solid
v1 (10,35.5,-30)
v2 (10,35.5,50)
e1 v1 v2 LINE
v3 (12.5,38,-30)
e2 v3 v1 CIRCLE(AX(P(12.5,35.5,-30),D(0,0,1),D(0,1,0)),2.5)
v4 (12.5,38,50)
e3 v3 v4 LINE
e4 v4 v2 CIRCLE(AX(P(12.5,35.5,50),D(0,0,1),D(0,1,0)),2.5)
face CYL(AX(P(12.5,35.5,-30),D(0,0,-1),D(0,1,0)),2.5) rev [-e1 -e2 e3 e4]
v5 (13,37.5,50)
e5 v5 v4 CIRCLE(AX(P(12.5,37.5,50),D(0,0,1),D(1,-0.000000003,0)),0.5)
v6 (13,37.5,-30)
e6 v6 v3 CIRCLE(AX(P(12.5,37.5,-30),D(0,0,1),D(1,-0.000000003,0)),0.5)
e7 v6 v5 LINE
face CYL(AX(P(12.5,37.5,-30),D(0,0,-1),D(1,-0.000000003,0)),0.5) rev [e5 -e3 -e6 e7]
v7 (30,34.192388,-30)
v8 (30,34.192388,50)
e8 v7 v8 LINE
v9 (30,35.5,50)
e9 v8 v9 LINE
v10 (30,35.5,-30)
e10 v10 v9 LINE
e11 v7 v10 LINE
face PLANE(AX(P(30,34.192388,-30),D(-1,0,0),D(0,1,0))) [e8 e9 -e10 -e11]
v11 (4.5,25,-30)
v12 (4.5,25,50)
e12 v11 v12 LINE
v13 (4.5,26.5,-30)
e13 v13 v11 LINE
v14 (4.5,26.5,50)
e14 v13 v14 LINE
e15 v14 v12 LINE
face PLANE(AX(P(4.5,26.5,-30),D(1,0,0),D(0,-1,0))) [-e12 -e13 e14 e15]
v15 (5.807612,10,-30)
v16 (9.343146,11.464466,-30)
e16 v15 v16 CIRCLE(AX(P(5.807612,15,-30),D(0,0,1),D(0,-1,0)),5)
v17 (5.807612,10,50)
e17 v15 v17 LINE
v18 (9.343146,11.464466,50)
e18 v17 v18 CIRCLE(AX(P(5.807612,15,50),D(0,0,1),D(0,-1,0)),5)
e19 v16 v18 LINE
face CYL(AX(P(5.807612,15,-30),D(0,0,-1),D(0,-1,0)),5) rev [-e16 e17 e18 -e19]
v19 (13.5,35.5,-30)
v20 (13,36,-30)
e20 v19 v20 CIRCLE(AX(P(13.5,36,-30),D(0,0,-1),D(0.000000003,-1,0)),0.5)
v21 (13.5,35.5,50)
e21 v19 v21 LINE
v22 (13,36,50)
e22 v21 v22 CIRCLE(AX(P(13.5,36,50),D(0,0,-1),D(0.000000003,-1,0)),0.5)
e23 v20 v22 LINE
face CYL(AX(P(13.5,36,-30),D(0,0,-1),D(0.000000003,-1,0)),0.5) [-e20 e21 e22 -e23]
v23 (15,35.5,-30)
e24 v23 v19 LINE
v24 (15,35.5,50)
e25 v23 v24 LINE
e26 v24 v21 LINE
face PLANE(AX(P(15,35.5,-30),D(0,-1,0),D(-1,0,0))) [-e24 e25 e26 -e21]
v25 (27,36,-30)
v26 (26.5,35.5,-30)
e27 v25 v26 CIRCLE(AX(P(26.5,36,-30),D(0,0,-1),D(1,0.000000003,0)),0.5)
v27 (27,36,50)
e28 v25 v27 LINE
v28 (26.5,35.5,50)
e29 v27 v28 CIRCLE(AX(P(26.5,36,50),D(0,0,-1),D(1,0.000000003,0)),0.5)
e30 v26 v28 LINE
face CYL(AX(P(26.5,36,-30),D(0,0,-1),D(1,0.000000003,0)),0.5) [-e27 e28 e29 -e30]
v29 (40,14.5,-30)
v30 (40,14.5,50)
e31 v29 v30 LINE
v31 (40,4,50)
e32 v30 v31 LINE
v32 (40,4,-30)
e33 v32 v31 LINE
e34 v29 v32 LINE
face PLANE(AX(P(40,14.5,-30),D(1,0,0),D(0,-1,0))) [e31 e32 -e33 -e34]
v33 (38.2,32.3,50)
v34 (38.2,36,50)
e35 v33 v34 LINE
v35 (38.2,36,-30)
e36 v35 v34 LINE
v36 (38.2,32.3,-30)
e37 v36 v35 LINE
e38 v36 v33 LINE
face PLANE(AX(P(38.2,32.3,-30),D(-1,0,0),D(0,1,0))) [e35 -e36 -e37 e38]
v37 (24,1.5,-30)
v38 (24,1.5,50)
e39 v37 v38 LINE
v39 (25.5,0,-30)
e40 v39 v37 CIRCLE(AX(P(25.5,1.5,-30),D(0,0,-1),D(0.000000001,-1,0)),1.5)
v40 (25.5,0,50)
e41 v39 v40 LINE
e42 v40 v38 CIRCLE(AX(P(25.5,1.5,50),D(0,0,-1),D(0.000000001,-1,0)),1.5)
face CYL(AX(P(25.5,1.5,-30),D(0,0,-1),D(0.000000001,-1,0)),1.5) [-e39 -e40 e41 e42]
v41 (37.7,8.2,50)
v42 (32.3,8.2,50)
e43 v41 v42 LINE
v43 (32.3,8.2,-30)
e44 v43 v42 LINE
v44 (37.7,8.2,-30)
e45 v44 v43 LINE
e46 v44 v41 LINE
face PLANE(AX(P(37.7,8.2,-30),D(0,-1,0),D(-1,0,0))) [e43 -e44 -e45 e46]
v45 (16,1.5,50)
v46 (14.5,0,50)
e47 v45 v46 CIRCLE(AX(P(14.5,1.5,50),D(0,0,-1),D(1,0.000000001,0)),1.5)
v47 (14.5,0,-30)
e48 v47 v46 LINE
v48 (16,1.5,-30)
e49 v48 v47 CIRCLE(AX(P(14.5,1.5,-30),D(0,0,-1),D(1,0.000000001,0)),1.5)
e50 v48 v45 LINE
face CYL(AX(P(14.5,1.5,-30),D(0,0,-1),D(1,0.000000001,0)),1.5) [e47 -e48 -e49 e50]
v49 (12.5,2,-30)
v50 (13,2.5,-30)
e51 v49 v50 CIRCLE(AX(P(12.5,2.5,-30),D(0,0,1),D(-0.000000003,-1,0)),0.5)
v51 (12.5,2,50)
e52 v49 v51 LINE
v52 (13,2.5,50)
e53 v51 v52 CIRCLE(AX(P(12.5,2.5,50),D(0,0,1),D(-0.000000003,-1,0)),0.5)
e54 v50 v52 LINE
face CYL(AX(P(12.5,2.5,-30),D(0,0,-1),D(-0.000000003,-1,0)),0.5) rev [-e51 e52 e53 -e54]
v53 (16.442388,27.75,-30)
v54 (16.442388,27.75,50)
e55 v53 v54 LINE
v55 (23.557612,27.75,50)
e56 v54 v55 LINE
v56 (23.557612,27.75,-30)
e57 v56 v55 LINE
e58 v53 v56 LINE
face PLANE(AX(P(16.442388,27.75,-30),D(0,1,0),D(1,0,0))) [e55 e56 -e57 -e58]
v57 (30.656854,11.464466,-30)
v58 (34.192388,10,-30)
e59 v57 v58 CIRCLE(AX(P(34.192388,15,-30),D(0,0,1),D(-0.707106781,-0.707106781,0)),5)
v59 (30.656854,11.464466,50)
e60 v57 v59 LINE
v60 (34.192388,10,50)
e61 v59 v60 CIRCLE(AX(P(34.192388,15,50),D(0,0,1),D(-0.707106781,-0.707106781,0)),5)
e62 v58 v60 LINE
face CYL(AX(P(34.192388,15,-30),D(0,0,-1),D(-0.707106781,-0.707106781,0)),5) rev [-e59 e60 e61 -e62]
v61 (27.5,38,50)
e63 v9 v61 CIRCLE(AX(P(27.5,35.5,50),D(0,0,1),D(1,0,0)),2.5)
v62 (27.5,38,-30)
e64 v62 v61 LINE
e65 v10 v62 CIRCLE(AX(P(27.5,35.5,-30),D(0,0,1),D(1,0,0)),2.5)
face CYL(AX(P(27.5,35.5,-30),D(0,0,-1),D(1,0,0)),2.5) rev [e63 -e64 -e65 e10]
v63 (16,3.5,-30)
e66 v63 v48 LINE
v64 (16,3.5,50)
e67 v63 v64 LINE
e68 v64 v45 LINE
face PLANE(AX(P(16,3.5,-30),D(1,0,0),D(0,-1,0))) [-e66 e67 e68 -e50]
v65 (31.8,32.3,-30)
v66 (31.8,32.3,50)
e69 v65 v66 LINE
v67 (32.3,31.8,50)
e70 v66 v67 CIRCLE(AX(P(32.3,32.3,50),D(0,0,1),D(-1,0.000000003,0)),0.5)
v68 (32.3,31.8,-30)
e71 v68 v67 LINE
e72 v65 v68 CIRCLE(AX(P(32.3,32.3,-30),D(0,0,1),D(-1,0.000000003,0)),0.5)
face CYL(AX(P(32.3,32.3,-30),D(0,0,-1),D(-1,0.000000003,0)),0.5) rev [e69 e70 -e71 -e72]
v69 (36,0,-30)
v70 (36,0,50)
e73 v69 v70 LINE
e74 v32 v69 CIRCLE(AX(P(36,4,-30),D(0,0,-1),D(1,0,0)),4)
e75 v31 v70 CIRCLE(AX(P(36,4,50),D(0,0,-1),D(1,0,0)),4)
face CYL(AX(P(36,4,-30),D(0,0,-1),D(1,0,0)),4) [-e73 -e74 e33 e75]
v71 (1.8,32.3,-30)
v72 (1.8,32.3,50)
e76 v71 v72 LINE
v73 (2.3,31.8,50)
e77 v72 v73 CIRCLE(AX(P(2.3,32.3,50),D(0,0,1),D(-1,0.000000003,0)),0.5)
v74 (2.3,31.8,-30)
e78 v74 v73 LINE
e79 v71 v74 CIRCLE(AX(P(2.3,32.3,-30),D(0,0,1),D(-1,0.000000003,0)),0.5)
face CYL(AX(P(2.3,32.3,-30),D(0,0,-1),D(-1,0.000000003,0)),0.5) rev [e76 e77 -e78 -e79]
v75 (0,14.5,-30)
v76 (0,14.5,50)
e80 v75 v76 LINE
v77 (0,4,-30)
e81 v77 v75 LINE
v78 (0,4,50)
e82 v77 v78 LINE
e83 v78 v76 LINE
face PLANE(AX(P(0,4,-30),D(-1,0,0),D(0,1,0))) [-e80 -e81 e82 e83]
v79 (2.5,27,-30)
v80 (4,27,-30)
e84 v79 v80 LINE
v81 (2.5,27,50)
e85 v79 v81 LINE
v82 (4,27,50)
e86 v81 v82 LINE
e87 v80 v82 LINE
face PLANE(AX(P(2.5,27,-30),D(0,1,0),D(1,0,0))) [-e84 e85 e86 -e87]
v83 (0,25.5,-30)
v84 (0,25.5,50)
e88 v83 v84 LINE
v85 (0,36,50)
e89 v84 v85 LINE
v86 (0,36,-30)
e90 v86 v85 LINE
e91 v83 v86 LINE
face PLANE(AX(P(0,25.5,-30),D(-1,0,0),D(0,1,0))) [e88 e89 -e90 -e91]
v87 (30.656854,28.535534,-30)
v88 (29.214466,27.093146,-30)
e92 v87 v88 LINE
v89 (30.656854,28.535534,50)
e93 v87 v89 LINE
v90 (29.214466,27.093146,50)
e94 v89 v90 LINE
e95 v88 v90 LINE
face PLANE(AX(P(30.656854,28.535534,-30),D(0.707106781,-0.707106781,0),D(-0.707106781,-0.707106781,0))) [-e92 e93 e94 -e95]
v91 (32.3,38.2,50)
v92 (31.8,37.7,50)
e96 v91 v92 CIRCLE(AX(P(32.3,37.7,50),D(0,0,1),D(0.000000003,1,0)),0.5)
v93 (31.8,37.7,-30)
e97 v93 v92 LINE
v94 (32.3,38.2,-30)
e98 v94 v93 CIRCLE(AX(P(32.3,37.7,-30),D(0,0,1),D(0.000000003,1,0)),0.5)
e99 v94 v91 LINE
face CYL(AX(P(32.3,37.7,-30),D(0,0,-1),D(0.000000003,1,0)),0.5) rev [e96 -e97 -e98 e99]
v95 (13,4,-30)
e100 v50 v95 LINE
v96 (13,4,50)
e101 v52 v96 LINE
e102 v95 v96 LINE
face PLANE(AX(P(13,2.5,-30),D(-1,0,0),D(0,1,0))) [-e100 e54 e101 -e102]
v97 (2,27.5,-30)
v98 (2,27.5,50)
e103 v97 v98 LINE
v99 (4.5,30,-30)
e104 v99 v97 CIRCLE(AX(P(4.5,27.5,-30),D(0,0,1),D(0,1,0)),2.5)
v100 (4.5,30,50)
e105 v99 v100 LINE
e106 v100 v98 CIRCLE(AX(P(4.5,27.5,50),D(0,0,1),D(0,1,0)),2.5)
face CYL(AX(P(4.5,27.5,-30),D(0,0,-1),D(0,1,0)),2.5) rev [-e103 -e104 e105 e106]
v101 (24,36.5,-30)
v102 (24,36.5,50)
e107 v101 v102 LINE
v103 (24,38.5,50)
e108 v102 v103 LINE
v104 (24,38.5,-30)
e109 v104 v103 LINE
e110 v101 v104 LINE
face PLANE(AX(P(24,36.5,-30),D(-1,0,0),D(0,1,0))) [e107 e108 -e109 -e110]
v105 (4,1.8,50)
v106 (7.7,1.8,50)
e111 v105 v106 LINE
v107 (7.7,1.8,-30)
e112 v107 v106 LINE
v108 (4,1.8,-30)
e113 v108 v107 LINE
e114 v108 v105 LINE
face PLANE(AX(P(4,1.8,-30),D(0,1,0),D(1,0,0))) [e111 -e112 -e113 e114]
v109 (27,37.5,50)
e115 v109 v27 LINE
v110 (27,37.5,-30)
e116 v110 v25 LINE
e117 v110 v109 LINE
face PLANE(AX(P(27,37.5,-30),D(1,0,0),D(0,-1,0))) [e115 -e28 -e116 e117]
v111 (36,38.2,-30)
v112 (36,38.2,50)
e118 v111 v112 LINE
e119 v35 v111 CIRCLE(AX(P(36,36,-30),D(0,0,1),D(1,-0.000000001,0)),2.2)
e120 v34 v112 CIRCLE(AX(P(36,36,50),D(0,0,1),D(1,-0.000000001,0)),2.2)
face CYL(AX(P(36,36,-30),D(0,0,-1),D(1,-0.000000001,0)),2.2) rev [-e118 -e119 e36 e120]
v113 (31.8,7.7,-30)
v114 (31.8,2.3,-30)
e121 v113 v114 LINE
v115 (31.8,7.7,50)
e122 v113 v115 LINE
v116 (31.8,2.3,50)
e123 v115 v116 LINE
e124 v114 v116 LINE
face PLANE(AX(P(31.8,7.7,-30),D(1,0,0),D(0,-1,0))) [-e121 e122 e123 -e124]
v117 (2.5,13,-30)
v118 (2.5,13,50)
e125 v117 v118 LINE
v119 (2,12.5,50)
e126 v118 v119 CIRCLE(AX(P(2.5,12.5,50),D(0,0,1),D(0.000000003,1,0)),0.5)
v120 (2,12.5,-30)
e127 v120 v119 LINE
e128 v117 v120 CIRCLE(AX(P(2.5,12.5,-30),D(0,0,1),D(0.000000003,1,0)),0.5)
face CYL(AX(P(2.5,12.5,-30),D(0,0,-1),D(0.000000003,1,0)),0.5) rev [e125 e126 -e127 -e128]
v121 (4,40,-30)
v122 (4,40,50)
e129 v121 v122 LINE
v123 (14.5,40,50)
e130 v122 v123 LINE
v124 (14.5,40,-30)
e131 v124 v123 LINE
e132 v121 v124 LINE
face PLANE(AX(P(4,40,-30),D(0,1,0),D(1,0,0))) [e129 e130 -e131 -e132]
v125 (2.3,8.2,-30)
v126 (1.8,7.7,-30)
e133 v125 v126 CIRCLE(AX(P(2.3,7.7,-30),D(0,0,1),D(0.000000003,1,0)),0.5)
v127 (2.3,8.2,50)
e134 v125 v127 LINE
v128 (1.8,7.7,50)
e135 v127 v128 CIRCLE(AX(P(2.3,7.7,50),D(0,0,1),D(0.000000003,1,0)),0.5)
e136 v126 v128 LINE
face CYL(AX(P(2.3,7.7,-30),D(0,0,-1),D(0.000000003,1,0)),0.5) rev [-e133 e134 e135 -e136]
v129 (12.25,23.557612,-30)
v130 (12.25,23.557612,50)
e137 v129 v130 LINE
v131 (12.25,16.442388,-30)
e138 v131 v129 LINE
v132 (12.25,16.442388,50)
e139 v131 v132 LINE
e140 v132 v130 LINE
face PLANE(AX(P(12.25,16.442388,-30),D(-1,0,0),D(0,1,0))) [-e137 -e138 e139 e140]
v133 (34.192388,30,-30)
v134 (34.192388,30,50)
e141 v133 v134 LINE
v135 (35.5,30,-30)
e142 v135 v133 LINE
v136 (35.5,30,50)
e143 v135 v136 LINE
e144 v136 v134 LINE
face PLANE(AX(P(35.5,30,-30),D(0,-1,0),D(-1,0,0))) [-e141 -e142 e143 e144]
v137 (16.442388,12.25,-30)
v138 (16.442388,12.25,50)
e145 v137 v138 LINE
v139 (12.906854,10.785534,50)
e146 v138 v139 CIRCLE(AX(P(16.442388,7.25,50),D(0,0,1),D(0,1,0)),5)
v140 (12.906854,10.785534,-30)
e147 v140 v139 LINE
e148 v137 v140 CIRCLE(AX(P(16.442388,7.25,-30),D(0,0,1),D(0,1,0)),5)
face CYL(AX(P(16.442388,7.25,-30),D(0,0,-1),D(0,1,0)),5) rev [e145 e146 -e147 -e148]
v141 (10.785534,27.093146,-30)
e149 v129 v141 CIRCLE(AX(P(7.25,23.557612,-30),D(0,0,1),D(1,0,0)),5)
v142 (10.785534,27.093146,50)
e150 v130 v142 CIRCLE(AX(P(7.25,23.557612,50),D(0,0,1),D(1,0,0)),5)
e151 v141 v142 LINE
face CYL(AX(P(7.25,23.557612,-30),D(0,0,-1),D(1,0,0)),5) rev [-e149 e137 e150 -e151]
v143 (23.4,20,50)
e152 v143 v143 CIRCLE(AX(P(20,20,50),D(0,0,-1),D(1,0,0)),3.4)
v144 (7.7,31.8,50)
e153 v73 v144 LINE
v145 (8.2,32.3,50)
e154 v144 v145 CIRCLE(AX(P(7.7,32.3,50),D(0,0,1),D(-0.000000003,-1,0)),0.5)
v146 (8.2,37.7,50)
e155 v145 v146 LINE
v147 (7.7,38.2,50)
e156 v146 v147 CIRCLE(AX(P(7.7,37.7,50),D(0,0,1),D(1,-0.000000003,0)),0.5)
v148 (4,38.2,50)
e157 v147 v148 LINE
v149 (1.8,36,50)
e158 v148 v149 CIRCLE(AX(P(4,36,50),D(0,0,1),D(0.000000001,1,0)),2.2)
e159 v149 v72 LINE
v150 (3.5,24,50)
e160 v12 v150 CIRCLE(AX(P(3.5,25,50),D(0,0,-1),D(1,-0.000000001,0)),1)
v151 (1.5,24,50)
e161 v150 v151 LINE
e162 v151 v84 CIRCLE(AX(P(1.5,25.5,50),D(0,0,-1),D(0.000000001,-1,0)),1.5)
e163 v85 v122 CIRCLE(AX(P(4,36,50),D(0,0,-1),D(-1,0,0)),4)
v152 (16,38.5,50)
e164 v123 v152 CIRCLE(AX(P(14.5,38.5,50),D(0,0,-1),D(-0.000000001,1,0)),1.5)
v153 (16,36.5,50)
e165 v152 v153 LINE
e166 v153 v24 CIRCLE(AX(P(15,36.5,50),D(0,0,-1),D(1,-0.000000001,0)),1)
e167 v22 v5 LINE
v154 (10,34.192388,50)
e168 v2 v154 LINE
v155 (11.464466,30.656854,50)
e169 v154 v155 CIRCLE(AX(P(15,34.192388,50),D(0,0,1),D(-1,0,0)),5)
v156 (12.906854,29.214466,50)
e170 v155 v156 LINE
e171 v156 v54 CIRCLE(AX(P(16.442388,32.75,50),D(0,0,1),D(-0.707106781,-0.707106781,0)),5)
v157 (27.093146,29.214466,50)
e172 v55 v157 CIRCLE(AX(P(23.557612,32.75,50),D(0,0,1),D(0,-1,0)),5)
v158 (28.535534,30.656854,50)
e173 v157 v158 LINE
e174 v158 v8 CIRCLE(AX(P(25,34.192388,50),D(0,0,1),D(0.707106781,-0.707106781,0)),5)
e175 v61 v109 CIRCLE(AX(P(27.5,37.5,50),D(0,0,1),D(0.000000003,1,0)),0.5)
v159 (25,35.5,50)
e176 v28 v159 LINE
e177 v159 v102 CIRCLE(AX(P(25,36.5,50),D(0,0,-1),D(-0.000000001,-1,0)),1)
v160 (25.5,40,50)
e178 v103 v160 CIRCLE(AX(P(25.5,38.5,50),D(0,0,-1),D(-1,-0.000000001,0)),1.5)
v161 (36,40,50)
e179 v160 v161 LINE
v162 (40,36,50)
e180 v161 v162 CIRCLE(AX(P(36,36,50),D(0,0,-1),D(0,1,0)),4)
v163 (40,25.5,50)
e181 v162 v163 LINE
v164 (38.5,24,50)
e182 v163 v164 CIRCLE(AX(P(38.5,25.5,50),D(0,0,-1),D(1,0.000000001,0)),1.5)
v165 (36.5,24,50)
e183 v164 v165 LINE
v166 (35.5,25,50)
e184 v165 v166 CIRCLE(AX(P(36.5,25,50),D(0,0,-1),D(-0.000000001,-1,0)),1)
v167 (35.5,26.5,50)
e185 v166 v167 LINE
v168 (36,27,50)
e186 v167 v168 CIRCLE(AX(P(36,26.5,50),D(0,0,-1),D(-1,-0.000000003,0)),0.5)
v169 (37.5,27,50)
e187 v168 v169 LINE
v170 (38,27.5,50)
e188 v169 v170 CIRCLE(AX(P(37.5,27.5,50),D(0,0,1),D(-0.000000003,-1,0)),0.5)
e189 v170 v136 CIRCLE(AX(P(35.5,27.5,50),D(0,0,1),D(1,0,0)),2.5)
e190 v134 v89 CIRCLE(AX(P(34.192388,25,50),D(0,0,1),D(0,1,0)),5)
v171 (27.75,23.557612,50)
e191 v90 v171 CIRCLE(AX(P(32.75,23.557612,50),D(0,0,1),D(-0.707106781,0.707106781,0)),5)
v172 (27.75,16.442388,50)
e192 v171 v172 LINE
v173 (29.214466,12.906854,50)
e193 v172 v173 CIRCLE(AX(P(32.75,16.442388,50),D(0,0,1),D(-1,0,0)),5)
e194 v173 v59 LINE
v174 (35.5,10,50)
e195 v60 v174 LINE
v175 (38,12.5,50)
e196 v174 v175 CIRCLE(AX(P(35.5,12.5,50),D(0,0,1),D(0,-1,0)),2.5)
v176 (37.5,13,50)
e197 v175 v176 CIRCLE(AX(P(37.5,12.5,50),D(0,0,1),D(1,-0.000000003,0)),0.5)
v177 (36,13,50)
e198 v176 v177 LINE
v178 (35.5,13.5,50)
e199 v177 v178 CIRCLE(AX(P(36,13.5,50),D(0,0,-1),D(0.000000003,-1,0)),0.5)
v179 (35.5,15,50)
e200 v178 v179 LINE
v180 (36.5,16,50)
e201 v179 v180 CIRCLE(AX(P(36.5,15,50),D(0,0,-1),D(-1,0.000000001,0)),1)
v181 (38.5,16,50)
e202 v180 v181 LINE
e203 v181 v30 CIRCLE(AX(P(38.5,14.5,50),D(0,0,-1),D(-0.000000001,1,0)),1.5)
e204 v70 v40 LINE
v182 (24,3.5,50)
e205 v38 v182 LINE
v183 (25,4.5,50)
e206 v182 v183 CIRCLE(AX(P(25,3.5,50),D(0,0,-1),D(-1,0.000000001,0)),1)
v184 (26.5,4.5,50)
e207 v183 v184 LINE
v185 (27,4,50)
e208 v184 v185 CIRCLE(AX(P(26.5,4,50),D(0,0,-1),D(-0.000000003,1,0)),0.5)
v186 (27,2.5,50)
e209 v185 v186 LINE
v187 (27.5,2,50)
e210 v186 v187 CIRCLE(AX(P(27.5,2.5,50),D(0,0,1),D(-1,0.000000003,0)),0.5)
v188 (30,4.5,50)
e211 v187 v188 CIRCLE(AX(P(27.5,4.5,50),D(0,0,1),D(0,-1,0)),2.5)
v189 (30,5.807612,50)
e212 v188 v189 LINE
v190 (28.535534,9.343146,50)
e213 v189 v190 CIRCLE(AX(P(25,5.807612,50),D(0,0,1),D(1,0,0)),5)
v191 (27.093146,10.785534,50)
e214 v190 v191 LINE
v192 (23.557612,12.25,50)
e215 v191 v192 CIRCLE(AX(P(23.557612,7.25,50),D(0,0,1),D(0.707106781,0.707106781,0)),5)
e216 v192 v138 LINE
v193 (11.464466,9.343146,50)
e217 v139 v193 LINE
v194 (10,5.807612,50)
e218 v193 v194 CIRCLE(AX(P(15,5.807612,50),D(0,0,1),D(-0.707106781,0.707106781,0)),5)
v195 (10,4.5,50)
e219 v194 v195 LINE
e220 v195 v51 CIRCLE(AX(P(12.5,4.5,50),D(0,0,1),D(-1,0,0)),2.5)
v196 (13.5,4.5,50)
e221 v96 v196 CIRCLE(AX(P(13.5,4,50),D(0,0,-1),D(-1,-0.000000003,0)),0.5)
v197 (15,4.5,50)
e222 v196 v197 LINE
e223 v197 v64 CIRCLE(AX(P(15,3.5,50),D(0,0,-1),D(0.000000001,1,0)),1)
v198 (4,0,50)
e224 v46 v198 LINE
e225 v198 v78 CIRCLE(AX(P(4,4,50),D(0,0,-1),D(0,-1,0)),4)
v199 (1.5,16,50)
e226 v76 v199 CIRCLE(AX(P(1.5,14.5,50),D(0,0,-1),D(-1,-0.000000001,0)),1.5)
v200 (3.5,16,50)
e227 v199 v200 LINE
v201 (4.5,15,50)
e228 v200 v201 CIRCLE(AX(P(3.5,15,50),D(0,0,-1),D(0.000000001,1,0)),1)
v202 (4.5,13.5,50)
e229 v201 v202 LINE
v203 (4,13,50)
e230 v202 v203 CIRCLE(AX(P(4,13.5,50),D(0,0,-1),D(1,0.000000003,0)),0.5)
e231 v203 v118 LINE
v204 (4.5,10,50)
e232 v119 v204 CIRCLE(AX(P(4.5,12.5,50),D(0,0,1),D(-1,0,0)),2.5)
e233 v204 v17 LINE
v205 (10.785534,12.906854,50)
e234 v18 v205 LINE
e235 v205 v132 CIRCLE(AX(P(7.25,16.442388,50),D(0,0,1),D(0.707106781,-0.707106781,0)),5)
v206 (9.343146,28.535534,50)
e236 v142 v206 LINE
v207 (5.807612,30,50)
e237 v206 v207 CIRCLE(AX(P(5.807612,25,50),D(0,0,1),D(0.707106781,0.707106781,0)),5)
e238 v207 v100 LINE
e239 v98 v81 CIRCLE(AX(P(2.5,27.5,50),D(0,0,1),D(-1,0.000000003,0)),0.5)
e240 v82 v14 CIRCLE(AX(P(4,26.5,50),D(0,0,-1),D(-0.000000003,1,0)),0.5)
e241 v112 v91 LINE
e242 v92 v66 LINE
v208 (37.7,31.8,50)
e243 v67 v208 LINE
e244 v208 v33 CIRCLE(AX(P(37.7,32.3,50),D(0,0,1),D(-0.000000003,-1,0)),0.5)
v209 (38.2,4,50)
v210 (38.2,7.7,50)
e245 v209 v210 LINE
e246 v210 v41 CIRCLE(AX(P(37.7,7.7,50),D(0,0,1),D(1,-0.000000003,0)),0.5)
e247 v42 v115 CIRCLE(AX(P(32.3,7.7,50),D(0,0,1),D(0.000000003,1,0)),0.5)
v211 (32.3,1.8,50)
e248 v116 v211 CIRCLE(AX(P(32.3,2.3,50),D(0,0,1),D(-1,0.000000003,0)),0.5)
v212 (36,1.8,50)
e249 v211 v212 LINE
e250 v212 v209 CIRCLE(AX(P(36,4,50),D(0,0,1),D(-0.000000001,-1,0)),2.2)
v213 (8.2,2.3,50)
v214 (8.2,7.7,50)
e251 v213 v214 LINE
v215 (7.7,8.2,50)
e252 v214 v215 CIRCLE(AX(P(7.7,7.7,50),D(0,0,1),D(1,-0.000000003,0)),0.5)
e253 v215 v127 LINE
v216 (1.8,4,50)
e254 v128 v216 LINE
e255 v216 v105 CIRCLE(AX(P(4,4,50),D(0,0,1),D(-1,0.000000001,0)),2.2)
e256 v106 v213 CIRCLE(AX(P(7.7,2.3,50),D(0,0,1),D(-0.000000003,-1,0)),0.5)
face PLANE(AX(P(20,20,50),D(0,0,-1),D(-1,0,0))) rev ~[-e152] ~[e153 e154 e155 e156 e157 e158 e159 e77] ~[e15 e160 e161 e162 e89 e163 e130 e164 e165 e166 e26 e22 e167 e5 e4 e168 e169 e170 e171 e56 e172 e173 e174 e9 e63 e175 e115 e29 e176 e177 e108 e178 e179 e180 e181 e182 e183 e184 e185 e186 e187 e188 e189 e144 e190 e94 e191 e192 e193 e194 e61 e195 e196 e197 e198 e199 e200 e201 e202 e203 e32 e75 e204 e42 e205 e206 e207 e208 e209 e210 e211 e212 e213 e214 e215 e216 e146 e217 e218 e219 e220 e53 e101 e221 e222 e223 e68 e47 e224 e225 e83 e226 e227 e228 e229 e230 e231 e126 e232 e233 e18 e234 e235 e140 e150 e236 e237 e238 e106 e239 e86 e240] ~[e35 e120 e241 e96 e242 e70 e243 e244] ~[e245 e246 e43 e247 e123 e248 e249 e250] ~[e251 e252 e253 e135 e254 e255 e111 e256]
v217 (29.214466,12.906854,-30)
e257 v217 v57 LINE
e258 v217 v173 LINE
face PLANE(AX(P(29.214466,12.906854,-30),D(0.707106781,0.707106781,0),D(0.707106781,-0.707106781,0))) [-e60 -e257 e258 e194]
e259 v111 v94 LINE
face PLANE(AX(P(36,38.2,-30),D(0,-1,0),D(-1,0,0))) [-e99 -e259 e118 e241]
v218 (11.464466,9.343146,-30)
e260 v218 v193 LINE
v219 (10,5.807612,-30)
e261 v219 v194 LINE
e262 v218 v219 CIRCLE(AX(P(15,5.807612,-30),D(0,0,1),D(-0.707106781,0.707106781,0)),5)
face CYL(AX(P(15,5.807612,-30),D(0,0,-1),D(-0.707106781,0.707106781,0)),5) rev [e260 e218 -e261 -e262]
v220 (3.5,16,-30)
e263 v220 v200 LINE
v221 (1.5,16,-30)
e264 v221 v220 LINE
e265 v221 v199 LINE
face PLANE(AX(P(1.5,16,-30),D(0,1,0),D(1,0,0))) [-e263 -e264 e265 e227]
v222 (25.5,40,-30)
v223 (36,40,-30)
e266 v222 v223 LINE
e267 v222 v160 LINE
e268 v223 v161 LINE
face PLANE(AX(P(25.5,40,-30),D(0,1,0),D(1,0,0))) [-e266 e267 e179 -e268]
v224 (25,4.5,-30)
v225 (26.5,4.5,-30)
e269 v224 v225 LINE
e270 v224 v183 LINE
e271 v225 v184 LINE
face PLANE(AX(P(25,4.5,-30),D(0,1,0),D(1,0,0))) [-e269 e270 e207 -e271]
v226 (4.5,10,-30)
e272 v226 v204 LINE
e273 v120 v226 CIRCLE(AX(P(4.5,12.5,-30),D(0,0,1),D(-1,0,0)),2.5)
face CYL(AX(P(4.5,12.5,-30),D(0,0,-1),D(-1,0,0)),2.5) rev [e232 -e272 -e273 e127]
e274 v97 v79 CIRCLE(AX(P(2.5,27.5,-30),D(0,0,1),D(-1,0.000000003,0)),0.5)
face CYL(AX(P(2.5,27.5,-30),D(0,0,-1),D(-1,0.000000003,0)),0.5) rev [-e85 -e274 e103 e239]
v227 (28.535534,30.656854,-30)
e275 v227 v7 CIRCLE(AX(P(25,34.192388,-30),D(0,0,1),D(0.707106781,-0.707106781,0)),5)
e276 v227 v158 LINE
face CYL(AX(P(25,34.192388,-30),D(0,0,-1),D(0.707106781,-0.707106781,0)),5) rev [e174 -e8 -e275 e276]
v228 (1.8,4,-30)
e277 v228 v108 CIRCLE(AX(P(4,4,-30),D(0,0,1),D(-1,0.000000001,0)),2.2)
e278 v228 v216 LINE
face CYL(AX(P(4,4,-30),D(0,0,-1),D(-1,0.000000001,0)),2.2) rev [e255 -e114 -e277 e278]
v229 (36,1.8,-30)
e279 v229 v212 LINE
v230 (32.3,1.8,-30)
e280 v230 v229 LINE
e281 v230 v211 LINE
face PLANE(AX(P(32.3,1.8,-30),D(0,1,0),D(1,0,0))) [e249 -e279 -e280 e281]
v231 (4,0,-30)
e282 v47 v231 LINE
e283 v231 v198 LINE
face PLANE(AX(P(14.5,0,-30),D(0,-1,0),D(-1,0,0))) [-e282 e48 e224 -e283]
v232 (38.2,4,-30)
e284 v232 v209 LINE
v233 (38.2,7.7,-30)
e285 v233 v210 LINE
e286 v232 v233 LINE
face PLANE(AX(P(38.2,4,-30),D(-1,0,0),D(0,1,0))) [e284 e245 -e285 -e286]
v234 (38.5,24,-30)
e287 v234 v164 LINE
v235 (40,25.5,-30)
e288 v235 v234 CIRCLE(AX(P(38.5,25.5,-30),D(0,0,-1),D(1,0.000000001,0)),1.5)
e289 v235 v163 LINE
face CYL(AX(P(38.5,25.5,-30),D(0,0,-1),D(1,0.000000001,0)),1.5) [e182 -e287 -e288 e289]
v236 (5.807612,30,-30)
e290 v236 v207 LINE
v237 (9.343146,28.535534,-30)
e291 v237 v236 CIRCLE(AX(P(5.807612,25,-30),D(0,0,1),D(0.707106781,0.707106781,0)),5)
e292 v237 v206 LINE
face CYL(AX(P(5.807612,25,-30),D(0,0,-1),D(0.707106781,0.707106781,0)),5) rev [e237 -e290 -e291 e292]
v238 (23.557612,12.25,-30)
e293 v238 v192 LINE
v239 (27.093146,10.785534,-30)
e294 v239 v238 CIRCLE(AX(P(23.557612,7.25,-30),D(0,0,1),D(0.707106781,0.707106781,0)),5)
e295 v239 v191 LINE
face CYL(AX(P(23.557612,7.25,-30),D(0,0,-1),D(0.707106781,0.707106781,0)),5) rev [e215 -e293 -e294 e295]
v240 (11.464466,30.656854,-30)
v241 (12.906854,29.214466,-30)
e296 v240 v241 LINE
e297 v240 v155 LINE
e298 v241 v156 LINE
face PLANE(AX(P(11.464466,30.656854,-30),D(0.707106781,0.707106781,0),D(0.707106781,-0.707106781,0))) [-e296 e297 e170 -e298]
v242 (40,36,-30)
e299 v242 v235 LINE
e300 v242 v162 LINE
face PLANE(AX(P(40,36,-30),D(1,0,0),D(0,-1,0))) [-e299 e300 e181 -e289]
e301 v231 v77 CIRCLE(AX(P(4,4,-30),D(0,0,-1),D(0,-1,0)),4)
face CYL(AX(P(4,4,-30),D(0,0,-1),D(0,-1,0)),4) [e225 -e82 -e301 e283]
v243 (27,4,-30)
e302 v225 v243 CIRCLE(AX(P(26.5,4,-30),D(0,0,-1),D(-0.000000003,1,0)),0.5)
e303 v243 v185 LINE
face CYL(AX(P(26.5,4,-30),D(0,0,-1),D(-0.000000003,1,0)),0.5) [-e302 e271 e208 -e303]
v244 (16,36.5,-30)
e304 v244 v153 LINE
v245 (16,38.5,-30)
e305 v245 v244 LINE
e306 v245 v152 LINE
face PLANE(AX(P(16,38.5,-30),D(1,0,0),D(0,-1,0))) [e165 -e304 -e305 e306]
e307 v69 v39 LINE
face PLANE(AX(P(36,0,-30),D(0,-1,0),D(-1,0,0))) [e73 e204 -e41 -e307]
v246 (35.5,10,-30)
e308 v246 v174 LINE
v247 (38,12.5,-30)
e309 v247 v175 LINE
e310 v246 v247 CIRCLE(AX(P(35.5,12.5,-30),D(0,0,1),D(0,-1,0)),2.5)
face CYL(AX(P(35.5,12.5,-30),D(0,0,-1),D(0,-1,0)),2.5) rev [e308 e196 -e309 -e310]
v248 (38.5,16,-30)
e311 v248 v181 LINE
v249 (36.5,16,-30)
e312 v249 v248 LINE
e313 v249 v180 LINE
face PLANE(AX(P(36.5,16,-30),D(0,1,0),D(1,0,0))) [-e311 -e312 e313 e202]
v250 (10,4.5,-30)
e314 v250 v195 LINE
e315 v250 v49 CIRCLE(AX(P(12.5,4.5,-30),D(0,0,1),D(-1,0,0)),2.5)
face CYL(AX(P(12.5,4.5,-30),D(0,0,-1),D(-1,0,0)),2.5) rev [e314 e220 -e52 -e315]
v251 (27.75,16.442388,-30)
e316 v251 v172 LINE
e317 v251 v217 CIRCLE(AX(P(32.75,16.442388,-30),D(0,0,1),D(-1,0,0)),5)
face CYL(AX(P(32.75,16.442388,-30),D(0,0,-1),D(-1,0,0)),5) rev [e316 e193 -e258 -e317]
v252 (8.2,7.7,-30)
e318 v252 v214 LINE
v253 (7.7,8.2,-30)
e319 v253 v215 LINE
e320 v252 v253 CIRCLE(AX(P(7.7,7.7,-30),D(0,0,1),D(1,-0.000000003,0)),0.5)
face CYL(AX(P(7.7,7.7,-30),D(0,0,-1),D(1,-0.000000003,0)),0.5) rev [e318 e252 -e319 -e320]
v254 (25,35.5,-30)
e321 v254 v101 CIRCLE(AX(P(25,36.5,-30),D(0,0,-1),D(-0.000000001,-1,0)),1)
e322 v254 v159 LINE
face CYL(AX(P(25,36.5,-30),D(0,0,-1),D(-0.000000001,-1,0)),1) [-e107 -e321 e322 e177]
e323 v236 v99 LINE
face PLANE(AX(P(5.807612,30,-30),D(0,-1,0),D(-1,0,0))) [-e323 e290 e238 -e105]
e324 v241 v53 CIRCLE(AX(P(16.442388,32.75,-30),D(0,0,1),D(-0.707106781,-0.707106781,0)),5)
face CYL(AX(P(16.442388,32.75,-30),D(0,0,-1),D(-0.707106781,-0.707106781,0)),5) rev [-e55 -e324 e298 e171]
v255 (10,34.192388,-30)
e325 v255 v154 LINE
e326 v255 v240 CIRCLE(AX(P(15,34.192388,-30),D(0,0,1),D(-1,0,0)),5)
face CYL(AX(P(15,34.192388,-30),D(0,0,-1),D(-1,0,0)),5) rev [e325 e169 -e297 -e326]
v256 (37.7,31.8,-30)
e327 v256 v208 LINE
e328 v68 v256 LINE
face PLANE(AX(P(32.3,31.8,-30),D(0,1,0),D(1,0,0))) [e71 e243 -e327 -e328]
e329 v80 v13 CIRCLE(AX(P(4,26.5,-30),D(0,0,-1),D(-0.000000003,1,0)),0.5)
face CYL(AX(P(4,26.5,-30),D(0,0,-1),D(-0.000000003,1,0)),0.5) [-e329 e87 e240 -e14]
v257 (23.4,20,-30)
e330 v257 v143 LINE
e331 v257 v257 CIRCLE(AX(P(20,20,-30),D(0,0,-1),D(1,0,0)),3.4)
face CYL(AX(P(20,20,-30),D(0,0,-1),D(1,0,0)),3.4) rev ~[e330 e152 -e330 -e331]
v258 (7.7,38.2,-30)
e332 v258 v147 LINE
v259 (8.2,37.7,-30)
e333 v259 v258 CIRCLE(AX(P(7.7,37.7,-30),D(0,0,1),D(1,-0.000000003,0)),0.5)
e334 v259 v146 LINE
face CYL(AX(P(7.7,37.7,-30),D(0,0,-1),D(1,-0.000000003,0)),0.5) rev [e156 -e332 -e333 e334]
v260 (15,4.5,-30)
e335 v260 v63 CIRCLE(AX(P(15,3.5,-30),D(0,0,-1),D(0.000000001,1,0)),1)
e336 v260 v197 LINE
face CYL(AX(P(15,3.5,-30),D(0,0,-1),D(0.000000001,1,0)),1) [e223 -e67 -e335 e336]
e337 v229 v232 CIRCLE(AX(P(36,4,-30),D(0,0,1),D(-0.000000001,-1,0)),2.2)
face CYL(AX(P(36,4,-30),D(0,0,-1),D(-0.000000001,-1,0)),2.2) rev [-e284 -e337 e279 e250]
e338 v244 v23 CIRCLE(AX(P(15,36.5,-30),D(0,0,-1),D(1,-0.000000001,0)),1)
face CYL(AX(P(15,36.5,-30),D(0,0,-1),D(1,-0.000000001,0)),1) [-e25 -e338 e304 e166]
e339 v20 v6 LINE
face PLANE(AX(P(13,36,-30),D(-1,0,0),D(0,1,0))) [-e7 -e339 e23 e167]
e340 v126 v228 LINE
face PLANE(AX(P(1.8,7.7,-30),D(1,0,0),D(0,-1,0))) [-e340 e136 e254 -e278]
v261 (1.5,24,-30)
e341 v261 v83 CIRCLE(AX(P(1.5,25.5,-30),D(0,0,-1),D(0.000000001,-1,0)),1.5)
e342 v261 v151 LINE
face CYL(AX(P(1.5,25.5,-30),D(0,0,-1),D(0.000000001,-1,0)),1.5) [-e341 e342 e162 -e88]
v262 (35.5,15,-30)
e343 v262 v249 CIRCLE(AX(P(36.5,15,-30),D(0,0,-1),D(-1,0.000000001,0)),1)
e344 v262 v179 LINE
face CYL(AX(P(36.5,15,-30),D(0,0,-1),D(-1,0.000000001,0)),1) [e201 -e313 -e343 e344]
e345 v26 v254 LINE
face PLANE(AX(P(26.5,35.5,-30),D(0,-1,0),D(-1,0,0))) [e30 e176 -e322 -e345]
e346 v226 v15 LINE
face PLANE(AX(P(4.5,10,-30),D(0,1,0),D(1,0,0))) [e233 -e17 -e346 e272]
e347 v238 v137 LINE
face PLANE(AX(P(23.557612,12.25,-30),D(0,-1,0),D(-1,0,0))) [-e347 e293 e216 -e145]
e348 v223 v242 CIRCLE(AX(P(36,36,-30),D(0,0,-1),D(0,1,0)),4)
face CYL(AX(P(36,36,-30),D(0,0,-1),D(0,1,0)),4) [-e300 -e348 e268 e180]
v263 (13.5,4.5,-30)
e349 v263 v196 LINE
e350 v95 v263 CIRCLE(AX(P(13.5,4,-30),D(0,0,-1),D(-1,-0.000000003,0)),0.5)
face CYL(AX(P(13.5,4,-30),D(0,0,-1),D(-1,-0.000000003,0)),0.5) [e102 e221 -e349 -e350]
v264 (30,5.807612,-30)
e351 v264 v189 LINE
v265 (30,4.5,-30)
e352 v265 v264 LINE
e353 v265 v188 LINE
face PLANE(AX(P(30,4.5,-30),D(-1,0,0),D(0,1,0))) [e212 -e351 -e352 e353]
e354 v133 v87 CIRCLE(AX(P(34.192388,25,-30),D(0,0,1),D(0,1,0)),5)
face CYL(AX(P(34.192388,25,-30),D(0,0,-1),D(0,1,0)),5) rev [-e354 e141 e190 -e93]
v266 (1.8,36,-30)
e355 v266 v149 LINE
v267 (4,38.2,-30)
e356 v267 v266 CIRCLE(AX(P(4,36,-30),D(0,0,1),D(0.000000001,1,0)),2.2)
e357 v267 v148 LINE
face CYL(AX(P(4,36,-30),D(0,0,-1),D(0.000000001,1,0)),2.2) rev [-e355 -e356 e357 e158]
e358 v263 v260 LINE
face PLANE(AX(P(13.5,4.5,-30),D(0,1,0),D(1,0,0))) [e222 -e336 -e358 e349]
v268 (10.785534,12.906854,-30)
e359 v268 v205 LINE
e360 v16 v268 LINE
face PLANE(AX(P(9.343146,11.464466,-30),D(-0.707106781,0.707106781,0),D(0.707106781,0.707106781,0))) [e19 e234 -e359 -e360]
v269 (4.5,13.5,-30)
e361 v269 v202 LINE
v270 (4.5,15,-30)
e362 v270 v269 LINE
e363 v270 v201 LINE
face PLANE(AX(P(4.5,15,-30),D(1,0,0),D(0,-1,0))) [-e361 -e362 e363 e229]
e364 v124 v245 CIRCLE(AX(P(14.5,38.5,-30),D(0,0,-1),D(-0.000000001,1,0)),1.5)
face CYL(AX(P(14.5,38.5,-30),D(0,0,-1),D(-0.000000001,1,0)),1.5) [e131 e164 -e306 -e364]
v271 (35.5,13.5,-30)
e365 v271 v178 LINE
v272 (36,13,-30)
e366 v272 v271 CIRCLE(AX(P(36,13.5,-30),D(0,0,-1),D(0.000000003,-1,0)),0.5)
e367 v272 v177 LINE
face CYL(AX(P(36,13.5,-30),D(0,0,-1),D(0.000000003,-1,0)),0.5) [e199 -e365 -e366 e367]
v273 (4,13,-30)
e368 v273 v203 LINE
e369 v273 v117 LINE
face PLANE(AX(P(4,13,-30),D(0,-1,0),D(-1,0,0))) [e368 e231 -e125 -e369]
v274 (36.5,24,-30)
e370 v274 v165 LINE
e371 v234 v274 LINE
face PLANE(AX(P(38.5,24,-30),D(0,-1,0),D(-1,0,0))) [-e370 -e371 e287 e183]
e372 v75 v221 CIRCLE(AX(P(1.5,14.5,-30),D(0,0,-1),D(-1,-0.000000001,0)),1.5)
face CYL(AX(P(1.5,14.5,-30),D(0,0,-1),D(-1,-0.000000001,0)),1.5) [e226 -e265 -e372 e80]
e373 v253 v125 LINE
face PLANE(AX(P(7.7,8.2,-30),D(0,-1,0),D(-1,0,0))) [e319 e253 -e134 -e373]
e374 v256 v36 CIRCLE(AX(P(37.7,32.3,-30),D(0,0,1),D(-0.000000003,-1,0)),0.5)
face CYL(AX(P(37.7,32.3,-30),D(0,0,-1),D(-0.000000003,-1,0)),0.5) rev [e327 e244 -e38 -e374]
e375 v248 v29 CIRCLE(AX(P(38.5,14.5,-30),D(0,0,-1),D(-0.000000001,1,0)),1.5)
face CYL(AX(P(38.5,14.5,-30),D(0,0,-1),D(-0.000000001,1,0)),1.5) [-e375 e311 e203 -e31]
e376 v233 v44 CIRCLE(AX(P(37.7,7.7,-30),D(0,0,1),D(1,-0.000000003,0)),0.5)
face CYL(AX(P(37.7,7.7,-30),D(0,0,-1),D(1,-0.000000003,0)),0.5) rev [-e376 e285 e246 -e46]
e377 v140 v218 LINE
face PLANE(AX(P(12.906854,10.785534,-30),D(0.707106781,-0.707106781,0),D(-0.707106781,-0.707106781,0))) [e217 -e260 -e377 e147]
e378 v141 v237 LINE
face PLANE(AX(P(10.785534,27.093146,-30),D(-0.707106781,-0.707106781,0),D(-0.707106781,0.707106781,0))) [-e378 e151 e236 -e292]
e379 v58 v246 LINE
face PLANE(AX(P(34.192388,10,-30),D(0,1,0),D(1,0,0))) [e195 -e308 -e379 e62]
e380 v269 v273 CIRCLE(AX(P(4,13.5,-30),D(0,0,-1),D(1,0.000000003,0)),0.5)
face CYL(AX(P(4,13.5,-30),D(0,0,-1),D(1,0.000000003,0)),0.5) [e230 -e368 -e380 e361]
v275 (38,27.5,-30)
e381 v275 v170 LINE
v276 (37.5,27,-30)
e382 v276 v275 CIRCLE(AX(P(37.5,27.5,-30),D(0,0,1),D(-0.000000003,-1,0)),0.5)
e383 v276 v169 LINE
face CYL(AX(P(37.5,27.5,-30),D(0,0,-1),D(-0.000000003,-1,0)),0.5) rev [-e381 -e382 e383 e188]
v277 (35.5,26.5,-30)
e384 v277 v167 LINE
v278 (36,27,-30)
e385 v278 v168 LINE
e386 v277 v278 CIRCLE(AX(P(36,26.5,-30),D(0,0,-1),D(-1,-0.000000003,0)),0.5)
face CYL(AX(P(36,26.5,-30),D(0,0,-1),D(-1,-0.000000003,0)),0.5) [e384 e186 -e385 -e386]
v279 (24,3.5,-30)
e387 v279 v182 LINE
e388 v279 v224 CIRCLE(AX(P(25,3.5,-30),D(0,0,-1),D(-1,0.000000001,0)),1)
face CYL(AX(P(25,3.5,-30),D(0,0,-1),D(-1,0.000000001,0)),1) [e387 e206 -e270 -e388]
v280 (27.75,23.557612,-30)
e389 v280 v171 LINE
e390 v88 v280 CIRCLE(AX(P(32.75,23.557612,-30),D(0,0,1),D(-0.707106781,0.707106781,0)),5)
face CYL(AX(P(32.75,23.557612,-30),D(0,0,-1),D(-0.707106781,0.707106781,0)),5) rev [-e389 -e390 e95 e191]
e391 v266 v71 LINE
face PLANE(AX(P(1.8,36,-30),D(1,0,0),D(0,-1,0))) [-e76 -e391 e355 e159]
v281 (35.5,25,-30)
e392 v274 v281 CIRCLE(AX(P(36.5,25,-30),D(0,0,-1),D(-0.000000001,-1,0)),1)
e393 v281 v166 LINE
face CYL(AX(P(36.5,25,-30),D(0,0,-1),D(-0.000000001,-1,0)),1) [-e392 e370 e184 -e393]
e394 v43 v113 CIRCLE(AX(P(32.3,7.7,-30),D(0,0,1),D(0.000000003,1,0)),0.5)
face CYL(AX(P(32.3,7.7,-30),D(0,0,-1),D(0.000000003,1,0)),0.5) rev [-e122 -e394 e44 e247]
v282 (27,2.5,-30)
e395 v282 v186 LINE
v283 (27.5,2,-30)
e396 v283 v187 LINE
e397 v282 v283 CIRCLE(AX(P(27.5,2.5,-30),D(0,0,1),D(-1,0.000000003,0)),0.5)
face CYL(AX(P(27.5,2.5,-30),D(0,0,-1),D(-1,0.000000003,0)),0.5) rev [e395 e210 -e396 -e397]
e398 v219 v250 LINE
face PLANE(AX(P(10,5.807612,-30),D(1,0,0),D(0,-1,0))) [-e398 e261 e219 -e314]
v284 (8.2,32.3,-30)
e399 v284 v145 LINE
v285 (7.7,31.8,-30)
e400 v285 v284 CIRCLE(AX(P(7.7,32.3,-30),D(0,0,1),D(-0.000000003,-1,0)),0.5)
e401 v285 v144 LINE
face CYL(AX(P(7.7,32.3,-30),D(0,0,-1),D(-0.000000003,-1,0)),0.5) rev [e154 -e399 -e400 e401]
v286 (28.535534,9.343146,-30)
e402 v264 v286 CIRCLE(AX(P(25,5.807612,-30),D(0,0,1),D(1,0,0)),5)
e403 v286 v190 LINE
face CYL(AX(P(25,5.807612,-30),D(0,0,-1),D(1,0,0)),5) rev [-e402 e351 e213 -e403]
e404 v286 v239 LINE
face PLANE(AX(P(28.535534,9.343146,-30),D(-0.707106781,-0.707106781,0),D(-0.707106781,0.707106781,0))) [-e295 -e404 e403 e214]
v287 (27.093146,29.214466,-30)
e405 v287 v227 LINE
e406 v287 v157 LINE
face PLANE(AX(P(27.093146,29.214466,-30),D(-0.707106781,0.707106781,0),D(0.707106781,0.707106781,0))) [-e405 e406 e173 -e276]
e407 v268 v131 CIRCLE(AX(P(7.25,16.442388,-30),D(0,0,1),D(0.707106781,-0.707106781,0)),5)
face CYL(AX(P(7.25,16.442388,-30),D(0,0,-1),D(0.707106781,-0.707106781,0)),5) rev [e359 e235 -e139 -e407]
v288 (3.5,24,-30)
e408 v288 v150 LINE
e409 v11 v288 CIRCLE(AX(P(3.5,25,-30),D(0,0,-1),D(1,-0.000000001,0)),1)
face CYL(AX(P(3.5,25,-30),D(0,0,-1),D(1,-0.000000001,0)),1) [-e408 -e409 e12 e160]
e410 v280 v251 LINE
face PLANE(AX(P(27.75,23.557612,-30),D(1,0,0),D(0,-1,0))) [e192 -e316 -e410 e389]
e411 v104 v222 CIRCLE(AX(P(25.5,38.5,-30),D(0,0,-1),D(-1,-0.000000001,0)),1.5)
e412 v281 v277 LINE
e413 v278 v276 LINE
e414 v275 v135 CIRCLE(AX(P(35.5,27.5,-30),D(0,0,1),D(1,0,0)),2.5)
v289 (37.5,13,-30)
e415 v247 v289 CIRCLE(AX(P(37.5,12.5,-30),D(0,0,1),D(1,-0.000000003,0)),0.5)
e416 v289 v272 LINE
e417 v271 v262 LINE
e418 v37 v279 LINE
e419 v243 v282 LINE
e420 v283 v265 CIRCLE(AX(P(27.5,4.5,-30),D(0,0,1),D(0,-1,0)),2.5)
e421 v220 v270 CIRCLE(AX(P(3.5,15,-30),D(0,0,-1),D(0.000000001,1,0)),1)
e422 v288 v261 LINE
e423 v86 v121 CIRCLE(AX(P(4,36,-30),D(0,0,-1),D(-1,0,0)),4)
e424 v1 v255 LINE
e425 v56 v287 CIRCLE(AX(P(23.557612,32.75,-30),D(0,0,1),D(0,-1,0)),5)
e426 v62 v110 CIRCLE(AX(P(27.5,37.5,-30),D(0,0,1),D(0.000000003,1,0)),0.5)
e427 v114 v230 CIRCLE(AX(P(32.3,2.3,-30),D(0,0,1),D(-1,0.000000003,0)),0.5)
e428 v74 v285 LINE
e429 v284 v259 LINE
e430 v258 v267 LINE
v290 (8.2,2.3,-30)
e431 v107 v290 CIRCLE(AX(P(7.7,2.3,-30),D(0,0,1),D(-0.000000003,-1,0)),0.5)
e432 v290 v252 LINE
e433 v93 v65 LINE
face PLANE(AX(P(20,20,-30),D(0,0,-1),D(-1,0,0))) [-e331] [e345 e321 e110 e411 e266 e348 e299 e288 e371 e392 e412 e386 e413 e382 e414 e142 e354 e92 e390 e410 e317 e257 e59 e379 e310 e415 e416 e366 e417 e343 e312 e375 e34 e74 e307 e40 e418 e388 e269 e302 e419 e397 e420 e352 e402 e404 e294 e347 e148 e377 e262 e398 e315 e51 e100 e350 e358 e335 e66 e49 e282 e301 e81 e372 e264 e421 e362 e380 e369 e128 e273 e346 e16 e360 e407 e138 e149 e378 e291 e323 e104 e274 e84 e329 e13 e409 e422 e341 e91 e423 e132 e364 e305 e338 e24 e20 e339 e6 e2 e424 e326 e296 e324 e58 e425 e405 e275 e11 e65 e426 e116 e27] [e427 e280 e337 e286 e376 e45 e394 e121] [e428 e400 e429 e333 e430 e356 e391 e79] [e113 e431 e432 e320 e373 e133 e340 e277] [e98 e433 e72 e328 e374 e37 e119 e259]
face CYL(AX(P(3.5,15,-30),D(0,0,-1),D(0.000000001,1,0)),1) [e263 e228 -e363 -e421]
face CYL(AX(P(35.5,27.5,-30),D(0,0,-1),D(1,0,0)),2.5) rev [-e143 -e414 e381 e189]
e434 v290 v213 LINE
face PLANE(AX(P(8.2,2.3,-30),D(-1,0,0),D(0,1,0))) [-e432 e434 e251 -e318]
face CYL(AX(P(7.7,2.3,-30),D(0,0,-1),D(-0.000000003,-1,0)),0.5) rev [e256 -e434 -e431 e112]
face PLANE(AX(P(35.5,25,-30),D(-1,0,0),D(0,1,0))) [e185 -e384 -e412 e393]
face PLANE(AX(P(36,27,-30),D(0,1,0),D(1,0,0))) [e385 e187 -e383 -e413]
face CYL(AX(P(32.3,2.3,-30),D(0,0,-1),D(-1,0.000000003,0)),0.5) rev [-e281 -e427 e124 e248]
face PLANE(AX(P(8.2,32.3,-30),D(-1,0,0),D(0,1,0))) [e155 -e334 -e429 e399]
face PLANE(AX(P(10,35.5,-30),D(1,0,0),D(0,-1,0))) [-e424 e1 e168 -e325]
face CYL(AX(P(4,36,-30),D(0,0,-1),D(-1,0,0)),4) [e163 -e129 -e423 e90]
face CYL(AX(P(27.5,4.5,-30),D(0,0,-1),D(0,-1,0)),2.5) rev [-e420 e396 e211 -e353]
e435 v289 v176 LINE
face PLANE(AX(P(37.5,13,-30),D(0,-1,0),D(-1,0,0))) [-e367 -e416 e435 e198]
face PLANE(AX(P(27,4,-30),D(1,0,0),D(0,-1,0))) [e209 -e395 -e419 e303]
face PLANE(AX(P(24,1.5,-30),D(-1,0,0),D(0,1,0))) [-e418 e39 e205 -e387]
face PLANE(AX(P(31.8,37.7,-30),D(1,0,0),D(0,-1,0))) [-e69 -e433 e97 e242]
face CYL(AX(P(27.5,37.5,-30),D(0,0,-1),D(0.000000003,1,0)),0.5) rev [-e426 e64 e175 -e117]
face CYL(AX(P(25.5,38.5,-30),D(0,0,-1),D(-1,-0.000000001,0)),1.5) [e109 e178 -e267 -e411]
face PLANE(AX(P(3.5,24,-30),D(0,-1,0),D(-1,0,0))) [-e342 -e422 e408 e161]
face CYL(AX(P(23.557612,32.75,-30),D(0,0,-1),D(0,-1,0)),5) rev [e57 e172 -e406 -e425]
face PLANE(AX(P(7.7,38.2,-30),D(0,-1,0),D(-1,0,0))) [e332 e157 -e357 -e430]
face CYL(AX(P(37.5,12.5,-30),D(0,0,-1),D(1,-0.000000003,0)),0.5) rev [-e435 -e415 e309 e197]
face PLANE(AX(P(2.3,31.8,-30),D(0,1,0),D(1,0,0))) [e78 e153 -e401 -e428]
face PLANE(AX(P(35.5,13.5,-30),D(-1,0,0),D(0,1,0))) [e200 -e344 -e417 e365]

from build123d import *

# Parameters (mm, degrees)
ESQUISSE1_R        = 3.4
BOSS_EXTRU_1_DEPTH = 80


with BuildPart() as part:
    # Esquisse1 → Boss.-Extru.1 (new body)
    with BuildSketch(Plane(origin=(0, 0, -30), x_dir=(-1, 0, 0), z_dir=(0, 0, -1))):
        with BuildLine():
            Line((-4.5, 15), (-4.5, 13.5))
            ThreePointArc((-4.5, 13.5), (-4.353553391, 13.146446609), (-4, 13))
            Line((-4, 13), (-2.5, 13))
            ThreePointArc((-2.5, 13), (-2.146446609, 12.853553391), (-2, 12.5))
            ThreePointArc((-2, 12.5), (-2.732233047, 10.732233047), (-4.5, 10))
            Line((-4.5, 10), (-5.807611845, 10))
            ThreePointArc((-5.807611845, 10), (-7.721029006, 10.380602337), (-9.343145751, 11.464466094))
            Line((-9.343145751, 11.464466094), (-10.785533906, 12.906854249))
            ThreePointArc((-10.785533906, 12.906854249), (-11.869397663, 14.528970994), (-12.25, 16.442388155))
            Line((-12.25, 16.442388155), (-12.25, 23.557611845))
            ThreePointArc((-12.25, 23.557611845), (-11.869397663, 25.471029006), (-10.785533906, 27.093145751))
            Line((-10.785533906, 27.093145751), (-9.343145751, 28.535533906))
            ThreePointArc((-9.343145751, 28.535533906), (-7.721029006, 29.619397663), (-5.807611845, 30))
            Line((-5.807611845, 30), (-4.5, 30))
            ThreePointArc((-4.5, 30), (-2.732233047, 29.267766953), (-2, 27.5))
            ThreePointArc((-2, 27.5), (-2.146446609, 27.146446609), (-2.5, 27))
            Line((-2.5, 27), (-4, 27))
            ThreePointArc((-4, 27), (-4.353553391, 26.853553391), (-4.5, 26.5))
            Line((-4.5, 26.5), (-4.5, 25))
            ThreePointArc((-4.5, 25), (-4.207106781, 24.292893219), (-3.5, 24))
            Line((-3.5, 24), (-1.5, 24))
            ThreePointArc((-1.5, 24), (-0.439339828, 24.439339828), (0, 25.5))
            Line((0, 25.5), (0, 36))
            ThreePointArc((0, 36), (-1.171572875, 38.828427125), (-4, 40))
            Line((-4, 40), (-14.5, 40))
            ThreePointArc((-14.5, 40), (-15.560660172, 39.560660172), (-16, 38.5))
            Line((-16, 38.5), (-16, 36.5))
            ThreePointArc((-16, 36.5), (-15.707106781, 35.792893219), (-15, 35.5))
            Line((-15, 35.5), (-13.5, 35.5))
            ThreePointArc((-13.5, 35.5), (-13.146446609, 35.646446609), (-13, 36))
            Line((-13, 36), (-13, 37.5))
            ThreePointArc((-13, 37.5), (-12.853553391, 37.853553391), (-12.5, 38))
            ThreePointArc((-12.5, 38), (-10.732233047, 37.267766953), (-10, 35.5))
            Line((-10, 35.5), (-10, 34.192388155))
            ThreePointArc((-10, 34.192388155), (-10.380602337, 32.278970994), (-11.464466094, 30.656854249))
            Line((-11.464466094, 30.656854249), (-12.906854249, 29.214466094))
            ThreePointArc((-12.906854249, 29.214466094), (-14.528970994, 28.130602337), (-16.442388155, 27.75))
            Line((-16.442388155, 27.75), (-23.557611845, 27.75))
            ThreePointArc((-23.557611845, 27.75), (-25.471029006, 28.130602337), (-27.093145751, 29.214466094))
            Line((-27.093145751, 29.214466094), (-28.535533906, 30.656854249))
            ThreePointArc((-28.535533906, 30.656854249), (-29.619397663, 32.278970994), (-30, 34.192388155))
            Line((-30, 34.192388155), (-30, 35.5))
            ThreePointArc((-30, 35.5), (-29.267766953, 37.267766953), (-27.5, 38))
            ThreePointArc((-27.5, 38), (-27.146446609, 37.853553391), (-27, 37.5))
            Line((-27, 37.5), (-27, 36))
            ThreePointArc((-27, 36), (-26.853553391, 35.646446609), (-26.5, 35.5))
            Line((-26.5, 35.5), (-25, 35.5))
            ThreePointArc((-25, 35.5), (-24.292893219, 35.792893219), (-24, 36.5))
            Line((-24, 36.5), (-24, 38.5))
            ThreePointArc((-24, 38.5), (-24.439339828, 39.560660172), (-25.5, 40))
            Line((-25.5, 40), (-36, 40))
            ThreePointArc((-36, 40), (-38.828427125, 38.828427125), (-40, 36))
            Line((-40, 36), (-40, 25.5))
            ThreePointArc((-40, 25.5), (-39.560660172, 24.439339828), (-38.5, 24))
            Line((-38.5, 24), (-36.5, 24))
            ThreePointArc((-36.5, 24), (-35.792893219, 24.292893219), (-35.5, 25))
            Line((-35.5, 25), (-35.5, 26.5))
            ThreePointArc((-35.5, 26.5), (-35.646446609, 26.853553391), (-36, 27))
            Line((-36, 27), (-37.5, 27))
            ThreePointArc((-37.5, 27), (-37.853553391, 27.146446609), (-38, 27.5))
            ThreePointArc((-38, 27.5), (-37.267766953, 29.267766953), (-35.5, 30))
            Line((-35.5, 30), (-34.192388155, 30))
            ThreePointArc((-34.192388155, 30), (-32.278970994, 29.619397663), (-30.656854249, 28.535533906))
            Line((-30.656854249, 28.535533906), (-29.214466094, 27.093145751))
            ThreePointArc((-29.214466094, 27.093145751), (-28.130602337, 25.471029006), (-27.75, 23.557611845))
            Line((-27.75, 23.557611845), (-27.75, 16.442388155))
            ThreePointArc((-27.75, 16.442388155), (-28.130602337, 14.528970994), (-29.214466094, 12.906854249))
            Line((-29.214466094, 12.906854249), (-30.656854249, 11.464466094))
            ThreePointArc((-30.656854249, 11.464466094), (-32.278970994, 10.380602337), (-34.192388155, 10))
            Line((-34.192388155, 10), (-35.5, 10))
            ThreePointArc((-35.5, 10), (-37.267766953, 10.732233047), (-38, 12.5))
            ThreePointArc((-38, 12.5), (-37.853553391, 12.853553391), (-37.5, 13))
            Line((-37.5, 13), (-36, 13))
            ThreePointArc((-36, 13), (-35.646446609, 13.146446609), (-35.5, 13.5))
            Line((-35.5, 13.5), (-35.5, 15))
            ThreePointArc((-35.5, 15), (-35.792893219, 15.707106781), (-36.5, 16))
            Line((-36.5, 16), (-38.5, 16))
            ThreePointArc((-38.5, 16), (-39.560660172, 15.560660172), (-40, 14.5))
            Line((-40, 14.5), (-40, 4))
            ThreePointArc((-40, 4), (-38.828427125, 1.171572875), (-36, 0))
            Line((-36, 0), (-25.5, 0))
            ThreePointArc((-25.5, 0), (-24.439339828, 0.439339828), (-24, 1.5))
            Line((-24, 1.5), (-24, 3.5))
            ThreePointArc((-24, 3.5), (-24.292893219, 4.207106781), (-25, 4.5))
            Line((-25, 4.5), (-26.5, 4.5))
            ThreePointArc((-26.5, 4.5), (-26.853553391, 4.353553391), (-27, 4))
            Line((-27, 4), (-27, 2.5))
            ThreePointArc((-27, 2.5), (-27.146446609, 2.146446609), (-27.5, 2))
            ThreePointArc((-27.5, 2), (-29.267766953, 2.732233047), (-30, 4.5))
            Line((-30, 4.5), (-30, 5.807611845))
            ThreePointArc((-30, 5.807611845), (-29.619397663, 7.721029006), (-28.535533906, 9.343145751))
            Line((-28.535533906, 9.343145751), (-27.093145751, 10.785533906))
            ThreePointArc((-27.093145751, 10.785533906), (-25.471029006, 11.869397663), (-23.557611845, 12.25))
            Line((-23.557611845, 12.25), (-16.442388155, 12.25))
            ThreePointArc((-16.442388155, 12.25), (-14.528970994, 11.869397663), (-12.906854249, 10.785533906))
            Line((-12.906854249, 10.785533906), (-11.464466094, 9.343145751))
            ThreePointArc((-11.464466094, 9.343145751), (-10.380602337, 7.721029006), (-10, 5.807611845))
            Line((-10, 5.807611845), (-10, 4.5))
            ThreePointArc((-10, 4.5), (-10.732233047, 2.732233047), (-12.5, 2))
            ThreePointArc((-12.5, 2), (-12.853553391, 2.146446609), (-13, 2.5))
            Line((-13, 2.5), (-13, 4))
            ThreePointArc((-13, 4), (-13.146446609, 4.353553391), (-13.5, 4.5))
            Line((-13.5, 4.5), (-15, 4.5))
            ThreePointArc((-15, 4.5), (-15.707106781, 4.207106781), (-16, 3.5))
            Line((-16, 3.5), (-16, 1.5))
            ThreePointArc((-16, 1.5), (-15.560660172, 0.439339828), (-14.5, 0))
            Line((-14.5, 0), (-4, 0))
            ThreePointArc((-4, 0), (-1.171572875, 1.171572875), (0, 4))
            Line((0, 4), (0, 14.5))
            ThreePointArc((0, 14.5), (-0.439339828, 15.560660172), (-1.5, 16))
            Line((-1.5, 16), (-3.5, 16))
            ThreePointArc((-3.5, 16), (-4.207106781, 15.707106781), (-4.5, 15))
        make_face()
        with Locations(Location((-20, 20, 0), (0, 0, 180))):
            Circle(ESQUISSE1_R, mode=Mode.SUBTRACT)
        with BuildLine():
            Line((-4, 1.8), (-7.7, 1.8))
            ThreePointArc((-7.7, 1.8), (-8.053553391, 1.946446609), (-8.2, 2.3))
            Line((-8.2, 2.3), (-8.2, 7.7))
            ThreePointArc((-8.2, 7.7), (-8.053553391, 8.053553391), (-7.7, 8.2))
            Line((-7.7, 8.2), (-2.3, 8.2))
            ThreePointArc((-2.3, 8.2), (-1.946446609, 8.053553391), (-1.8, 7.7))
            Line((-1.8, 7.7), (-1.8, 4))
            ThreePointArc((-1.8, 4), (-2.444365081, 2.444365081), (-4, 1.8))
        make_face(mode=Mode.SUBTRACT)
        with BuildLine():
            Line((-38.2, 4), (-38.2, 7.7))
            ThreePointArc((-38.2, 7.7), (-38.053553391, 8.053553391), (-37.7, 8.2))
            Line((-37.7, 8.2), (-32.3, 8.2))
            ThreePointArc((-32.3, 8.2), (-31.946446609, 8.053553391), (-31.8, 7.7))
            Line((-31.8, 7.7), (-31.8, 2.3))
            ThreePointArc((-31.8, 2.3), (-31.946446609, 1.946446609), (-32.3, 1.8))
            Line((-32.3, 1.8), (-36, 1.8))
            ThreePointArc((-36, 1.8), (-37.555634919, 2.444365081), (-38.2, 4))
        make_face(mode=Mode.SUBTRACT)
        with BuildLine():
            Line((-36, 38.2), (-32.3, 38.2))
            ThreePointArc((-32.3, 38.2), (-31.946446609, 38.053553391), (-31.8, 37.7))
            Line((-31.8, 37.7), (-31.8, 32.3))
            ThreePointArc((-31.8, 32.3), (-31.946446609, 31.946446609), (-32.3, 31.8))
            Line((-32.3, 31.8), (-37.7, 31.8))
            ThreePointArc((-37.7, 31.8), (-38.053553391, 31.946446609), (-38.2, 32.3))
            Line((-38.2, 32.3), (-38.2, 36))
            ThreePointArc((-38.2, 36), (-37.555634919, 37.555634919), (-36, 38.2))
        make_face(mode=Mode.SUBTRACT)
        with BuildLine():
            Line((-1.8, 36), (-1.8, 32.3))
            ThreePointArc((-1.8, 32.3), (-1.946446609, 31.946446609), (-2.3, 31.8))
            Line((-2.3, 31.8), (-7.7, 31.8))
            ThreePointArc((-7.7, 31.8), (-8.053553391, 31.946446609), (-8.2, 32.3))
            Line((-8.2, 32.3), (-8.2, 37.7))
            ThreePointArc((-8.2, 37.7), (-8.053553391, 38.053553391), (-7.7, 38.2))
            Line((-7.7, 38.2), (-4, 38.2))
            ThreePointArc((-4, 38.2), (-2.444365081, 37.555634919), (-1.8, 36))
        make_face(mode=Mode.SUBTRACT)
    extrude(amount=-BOSS_EXTRU_1_DEPTH)


solid = part.part
